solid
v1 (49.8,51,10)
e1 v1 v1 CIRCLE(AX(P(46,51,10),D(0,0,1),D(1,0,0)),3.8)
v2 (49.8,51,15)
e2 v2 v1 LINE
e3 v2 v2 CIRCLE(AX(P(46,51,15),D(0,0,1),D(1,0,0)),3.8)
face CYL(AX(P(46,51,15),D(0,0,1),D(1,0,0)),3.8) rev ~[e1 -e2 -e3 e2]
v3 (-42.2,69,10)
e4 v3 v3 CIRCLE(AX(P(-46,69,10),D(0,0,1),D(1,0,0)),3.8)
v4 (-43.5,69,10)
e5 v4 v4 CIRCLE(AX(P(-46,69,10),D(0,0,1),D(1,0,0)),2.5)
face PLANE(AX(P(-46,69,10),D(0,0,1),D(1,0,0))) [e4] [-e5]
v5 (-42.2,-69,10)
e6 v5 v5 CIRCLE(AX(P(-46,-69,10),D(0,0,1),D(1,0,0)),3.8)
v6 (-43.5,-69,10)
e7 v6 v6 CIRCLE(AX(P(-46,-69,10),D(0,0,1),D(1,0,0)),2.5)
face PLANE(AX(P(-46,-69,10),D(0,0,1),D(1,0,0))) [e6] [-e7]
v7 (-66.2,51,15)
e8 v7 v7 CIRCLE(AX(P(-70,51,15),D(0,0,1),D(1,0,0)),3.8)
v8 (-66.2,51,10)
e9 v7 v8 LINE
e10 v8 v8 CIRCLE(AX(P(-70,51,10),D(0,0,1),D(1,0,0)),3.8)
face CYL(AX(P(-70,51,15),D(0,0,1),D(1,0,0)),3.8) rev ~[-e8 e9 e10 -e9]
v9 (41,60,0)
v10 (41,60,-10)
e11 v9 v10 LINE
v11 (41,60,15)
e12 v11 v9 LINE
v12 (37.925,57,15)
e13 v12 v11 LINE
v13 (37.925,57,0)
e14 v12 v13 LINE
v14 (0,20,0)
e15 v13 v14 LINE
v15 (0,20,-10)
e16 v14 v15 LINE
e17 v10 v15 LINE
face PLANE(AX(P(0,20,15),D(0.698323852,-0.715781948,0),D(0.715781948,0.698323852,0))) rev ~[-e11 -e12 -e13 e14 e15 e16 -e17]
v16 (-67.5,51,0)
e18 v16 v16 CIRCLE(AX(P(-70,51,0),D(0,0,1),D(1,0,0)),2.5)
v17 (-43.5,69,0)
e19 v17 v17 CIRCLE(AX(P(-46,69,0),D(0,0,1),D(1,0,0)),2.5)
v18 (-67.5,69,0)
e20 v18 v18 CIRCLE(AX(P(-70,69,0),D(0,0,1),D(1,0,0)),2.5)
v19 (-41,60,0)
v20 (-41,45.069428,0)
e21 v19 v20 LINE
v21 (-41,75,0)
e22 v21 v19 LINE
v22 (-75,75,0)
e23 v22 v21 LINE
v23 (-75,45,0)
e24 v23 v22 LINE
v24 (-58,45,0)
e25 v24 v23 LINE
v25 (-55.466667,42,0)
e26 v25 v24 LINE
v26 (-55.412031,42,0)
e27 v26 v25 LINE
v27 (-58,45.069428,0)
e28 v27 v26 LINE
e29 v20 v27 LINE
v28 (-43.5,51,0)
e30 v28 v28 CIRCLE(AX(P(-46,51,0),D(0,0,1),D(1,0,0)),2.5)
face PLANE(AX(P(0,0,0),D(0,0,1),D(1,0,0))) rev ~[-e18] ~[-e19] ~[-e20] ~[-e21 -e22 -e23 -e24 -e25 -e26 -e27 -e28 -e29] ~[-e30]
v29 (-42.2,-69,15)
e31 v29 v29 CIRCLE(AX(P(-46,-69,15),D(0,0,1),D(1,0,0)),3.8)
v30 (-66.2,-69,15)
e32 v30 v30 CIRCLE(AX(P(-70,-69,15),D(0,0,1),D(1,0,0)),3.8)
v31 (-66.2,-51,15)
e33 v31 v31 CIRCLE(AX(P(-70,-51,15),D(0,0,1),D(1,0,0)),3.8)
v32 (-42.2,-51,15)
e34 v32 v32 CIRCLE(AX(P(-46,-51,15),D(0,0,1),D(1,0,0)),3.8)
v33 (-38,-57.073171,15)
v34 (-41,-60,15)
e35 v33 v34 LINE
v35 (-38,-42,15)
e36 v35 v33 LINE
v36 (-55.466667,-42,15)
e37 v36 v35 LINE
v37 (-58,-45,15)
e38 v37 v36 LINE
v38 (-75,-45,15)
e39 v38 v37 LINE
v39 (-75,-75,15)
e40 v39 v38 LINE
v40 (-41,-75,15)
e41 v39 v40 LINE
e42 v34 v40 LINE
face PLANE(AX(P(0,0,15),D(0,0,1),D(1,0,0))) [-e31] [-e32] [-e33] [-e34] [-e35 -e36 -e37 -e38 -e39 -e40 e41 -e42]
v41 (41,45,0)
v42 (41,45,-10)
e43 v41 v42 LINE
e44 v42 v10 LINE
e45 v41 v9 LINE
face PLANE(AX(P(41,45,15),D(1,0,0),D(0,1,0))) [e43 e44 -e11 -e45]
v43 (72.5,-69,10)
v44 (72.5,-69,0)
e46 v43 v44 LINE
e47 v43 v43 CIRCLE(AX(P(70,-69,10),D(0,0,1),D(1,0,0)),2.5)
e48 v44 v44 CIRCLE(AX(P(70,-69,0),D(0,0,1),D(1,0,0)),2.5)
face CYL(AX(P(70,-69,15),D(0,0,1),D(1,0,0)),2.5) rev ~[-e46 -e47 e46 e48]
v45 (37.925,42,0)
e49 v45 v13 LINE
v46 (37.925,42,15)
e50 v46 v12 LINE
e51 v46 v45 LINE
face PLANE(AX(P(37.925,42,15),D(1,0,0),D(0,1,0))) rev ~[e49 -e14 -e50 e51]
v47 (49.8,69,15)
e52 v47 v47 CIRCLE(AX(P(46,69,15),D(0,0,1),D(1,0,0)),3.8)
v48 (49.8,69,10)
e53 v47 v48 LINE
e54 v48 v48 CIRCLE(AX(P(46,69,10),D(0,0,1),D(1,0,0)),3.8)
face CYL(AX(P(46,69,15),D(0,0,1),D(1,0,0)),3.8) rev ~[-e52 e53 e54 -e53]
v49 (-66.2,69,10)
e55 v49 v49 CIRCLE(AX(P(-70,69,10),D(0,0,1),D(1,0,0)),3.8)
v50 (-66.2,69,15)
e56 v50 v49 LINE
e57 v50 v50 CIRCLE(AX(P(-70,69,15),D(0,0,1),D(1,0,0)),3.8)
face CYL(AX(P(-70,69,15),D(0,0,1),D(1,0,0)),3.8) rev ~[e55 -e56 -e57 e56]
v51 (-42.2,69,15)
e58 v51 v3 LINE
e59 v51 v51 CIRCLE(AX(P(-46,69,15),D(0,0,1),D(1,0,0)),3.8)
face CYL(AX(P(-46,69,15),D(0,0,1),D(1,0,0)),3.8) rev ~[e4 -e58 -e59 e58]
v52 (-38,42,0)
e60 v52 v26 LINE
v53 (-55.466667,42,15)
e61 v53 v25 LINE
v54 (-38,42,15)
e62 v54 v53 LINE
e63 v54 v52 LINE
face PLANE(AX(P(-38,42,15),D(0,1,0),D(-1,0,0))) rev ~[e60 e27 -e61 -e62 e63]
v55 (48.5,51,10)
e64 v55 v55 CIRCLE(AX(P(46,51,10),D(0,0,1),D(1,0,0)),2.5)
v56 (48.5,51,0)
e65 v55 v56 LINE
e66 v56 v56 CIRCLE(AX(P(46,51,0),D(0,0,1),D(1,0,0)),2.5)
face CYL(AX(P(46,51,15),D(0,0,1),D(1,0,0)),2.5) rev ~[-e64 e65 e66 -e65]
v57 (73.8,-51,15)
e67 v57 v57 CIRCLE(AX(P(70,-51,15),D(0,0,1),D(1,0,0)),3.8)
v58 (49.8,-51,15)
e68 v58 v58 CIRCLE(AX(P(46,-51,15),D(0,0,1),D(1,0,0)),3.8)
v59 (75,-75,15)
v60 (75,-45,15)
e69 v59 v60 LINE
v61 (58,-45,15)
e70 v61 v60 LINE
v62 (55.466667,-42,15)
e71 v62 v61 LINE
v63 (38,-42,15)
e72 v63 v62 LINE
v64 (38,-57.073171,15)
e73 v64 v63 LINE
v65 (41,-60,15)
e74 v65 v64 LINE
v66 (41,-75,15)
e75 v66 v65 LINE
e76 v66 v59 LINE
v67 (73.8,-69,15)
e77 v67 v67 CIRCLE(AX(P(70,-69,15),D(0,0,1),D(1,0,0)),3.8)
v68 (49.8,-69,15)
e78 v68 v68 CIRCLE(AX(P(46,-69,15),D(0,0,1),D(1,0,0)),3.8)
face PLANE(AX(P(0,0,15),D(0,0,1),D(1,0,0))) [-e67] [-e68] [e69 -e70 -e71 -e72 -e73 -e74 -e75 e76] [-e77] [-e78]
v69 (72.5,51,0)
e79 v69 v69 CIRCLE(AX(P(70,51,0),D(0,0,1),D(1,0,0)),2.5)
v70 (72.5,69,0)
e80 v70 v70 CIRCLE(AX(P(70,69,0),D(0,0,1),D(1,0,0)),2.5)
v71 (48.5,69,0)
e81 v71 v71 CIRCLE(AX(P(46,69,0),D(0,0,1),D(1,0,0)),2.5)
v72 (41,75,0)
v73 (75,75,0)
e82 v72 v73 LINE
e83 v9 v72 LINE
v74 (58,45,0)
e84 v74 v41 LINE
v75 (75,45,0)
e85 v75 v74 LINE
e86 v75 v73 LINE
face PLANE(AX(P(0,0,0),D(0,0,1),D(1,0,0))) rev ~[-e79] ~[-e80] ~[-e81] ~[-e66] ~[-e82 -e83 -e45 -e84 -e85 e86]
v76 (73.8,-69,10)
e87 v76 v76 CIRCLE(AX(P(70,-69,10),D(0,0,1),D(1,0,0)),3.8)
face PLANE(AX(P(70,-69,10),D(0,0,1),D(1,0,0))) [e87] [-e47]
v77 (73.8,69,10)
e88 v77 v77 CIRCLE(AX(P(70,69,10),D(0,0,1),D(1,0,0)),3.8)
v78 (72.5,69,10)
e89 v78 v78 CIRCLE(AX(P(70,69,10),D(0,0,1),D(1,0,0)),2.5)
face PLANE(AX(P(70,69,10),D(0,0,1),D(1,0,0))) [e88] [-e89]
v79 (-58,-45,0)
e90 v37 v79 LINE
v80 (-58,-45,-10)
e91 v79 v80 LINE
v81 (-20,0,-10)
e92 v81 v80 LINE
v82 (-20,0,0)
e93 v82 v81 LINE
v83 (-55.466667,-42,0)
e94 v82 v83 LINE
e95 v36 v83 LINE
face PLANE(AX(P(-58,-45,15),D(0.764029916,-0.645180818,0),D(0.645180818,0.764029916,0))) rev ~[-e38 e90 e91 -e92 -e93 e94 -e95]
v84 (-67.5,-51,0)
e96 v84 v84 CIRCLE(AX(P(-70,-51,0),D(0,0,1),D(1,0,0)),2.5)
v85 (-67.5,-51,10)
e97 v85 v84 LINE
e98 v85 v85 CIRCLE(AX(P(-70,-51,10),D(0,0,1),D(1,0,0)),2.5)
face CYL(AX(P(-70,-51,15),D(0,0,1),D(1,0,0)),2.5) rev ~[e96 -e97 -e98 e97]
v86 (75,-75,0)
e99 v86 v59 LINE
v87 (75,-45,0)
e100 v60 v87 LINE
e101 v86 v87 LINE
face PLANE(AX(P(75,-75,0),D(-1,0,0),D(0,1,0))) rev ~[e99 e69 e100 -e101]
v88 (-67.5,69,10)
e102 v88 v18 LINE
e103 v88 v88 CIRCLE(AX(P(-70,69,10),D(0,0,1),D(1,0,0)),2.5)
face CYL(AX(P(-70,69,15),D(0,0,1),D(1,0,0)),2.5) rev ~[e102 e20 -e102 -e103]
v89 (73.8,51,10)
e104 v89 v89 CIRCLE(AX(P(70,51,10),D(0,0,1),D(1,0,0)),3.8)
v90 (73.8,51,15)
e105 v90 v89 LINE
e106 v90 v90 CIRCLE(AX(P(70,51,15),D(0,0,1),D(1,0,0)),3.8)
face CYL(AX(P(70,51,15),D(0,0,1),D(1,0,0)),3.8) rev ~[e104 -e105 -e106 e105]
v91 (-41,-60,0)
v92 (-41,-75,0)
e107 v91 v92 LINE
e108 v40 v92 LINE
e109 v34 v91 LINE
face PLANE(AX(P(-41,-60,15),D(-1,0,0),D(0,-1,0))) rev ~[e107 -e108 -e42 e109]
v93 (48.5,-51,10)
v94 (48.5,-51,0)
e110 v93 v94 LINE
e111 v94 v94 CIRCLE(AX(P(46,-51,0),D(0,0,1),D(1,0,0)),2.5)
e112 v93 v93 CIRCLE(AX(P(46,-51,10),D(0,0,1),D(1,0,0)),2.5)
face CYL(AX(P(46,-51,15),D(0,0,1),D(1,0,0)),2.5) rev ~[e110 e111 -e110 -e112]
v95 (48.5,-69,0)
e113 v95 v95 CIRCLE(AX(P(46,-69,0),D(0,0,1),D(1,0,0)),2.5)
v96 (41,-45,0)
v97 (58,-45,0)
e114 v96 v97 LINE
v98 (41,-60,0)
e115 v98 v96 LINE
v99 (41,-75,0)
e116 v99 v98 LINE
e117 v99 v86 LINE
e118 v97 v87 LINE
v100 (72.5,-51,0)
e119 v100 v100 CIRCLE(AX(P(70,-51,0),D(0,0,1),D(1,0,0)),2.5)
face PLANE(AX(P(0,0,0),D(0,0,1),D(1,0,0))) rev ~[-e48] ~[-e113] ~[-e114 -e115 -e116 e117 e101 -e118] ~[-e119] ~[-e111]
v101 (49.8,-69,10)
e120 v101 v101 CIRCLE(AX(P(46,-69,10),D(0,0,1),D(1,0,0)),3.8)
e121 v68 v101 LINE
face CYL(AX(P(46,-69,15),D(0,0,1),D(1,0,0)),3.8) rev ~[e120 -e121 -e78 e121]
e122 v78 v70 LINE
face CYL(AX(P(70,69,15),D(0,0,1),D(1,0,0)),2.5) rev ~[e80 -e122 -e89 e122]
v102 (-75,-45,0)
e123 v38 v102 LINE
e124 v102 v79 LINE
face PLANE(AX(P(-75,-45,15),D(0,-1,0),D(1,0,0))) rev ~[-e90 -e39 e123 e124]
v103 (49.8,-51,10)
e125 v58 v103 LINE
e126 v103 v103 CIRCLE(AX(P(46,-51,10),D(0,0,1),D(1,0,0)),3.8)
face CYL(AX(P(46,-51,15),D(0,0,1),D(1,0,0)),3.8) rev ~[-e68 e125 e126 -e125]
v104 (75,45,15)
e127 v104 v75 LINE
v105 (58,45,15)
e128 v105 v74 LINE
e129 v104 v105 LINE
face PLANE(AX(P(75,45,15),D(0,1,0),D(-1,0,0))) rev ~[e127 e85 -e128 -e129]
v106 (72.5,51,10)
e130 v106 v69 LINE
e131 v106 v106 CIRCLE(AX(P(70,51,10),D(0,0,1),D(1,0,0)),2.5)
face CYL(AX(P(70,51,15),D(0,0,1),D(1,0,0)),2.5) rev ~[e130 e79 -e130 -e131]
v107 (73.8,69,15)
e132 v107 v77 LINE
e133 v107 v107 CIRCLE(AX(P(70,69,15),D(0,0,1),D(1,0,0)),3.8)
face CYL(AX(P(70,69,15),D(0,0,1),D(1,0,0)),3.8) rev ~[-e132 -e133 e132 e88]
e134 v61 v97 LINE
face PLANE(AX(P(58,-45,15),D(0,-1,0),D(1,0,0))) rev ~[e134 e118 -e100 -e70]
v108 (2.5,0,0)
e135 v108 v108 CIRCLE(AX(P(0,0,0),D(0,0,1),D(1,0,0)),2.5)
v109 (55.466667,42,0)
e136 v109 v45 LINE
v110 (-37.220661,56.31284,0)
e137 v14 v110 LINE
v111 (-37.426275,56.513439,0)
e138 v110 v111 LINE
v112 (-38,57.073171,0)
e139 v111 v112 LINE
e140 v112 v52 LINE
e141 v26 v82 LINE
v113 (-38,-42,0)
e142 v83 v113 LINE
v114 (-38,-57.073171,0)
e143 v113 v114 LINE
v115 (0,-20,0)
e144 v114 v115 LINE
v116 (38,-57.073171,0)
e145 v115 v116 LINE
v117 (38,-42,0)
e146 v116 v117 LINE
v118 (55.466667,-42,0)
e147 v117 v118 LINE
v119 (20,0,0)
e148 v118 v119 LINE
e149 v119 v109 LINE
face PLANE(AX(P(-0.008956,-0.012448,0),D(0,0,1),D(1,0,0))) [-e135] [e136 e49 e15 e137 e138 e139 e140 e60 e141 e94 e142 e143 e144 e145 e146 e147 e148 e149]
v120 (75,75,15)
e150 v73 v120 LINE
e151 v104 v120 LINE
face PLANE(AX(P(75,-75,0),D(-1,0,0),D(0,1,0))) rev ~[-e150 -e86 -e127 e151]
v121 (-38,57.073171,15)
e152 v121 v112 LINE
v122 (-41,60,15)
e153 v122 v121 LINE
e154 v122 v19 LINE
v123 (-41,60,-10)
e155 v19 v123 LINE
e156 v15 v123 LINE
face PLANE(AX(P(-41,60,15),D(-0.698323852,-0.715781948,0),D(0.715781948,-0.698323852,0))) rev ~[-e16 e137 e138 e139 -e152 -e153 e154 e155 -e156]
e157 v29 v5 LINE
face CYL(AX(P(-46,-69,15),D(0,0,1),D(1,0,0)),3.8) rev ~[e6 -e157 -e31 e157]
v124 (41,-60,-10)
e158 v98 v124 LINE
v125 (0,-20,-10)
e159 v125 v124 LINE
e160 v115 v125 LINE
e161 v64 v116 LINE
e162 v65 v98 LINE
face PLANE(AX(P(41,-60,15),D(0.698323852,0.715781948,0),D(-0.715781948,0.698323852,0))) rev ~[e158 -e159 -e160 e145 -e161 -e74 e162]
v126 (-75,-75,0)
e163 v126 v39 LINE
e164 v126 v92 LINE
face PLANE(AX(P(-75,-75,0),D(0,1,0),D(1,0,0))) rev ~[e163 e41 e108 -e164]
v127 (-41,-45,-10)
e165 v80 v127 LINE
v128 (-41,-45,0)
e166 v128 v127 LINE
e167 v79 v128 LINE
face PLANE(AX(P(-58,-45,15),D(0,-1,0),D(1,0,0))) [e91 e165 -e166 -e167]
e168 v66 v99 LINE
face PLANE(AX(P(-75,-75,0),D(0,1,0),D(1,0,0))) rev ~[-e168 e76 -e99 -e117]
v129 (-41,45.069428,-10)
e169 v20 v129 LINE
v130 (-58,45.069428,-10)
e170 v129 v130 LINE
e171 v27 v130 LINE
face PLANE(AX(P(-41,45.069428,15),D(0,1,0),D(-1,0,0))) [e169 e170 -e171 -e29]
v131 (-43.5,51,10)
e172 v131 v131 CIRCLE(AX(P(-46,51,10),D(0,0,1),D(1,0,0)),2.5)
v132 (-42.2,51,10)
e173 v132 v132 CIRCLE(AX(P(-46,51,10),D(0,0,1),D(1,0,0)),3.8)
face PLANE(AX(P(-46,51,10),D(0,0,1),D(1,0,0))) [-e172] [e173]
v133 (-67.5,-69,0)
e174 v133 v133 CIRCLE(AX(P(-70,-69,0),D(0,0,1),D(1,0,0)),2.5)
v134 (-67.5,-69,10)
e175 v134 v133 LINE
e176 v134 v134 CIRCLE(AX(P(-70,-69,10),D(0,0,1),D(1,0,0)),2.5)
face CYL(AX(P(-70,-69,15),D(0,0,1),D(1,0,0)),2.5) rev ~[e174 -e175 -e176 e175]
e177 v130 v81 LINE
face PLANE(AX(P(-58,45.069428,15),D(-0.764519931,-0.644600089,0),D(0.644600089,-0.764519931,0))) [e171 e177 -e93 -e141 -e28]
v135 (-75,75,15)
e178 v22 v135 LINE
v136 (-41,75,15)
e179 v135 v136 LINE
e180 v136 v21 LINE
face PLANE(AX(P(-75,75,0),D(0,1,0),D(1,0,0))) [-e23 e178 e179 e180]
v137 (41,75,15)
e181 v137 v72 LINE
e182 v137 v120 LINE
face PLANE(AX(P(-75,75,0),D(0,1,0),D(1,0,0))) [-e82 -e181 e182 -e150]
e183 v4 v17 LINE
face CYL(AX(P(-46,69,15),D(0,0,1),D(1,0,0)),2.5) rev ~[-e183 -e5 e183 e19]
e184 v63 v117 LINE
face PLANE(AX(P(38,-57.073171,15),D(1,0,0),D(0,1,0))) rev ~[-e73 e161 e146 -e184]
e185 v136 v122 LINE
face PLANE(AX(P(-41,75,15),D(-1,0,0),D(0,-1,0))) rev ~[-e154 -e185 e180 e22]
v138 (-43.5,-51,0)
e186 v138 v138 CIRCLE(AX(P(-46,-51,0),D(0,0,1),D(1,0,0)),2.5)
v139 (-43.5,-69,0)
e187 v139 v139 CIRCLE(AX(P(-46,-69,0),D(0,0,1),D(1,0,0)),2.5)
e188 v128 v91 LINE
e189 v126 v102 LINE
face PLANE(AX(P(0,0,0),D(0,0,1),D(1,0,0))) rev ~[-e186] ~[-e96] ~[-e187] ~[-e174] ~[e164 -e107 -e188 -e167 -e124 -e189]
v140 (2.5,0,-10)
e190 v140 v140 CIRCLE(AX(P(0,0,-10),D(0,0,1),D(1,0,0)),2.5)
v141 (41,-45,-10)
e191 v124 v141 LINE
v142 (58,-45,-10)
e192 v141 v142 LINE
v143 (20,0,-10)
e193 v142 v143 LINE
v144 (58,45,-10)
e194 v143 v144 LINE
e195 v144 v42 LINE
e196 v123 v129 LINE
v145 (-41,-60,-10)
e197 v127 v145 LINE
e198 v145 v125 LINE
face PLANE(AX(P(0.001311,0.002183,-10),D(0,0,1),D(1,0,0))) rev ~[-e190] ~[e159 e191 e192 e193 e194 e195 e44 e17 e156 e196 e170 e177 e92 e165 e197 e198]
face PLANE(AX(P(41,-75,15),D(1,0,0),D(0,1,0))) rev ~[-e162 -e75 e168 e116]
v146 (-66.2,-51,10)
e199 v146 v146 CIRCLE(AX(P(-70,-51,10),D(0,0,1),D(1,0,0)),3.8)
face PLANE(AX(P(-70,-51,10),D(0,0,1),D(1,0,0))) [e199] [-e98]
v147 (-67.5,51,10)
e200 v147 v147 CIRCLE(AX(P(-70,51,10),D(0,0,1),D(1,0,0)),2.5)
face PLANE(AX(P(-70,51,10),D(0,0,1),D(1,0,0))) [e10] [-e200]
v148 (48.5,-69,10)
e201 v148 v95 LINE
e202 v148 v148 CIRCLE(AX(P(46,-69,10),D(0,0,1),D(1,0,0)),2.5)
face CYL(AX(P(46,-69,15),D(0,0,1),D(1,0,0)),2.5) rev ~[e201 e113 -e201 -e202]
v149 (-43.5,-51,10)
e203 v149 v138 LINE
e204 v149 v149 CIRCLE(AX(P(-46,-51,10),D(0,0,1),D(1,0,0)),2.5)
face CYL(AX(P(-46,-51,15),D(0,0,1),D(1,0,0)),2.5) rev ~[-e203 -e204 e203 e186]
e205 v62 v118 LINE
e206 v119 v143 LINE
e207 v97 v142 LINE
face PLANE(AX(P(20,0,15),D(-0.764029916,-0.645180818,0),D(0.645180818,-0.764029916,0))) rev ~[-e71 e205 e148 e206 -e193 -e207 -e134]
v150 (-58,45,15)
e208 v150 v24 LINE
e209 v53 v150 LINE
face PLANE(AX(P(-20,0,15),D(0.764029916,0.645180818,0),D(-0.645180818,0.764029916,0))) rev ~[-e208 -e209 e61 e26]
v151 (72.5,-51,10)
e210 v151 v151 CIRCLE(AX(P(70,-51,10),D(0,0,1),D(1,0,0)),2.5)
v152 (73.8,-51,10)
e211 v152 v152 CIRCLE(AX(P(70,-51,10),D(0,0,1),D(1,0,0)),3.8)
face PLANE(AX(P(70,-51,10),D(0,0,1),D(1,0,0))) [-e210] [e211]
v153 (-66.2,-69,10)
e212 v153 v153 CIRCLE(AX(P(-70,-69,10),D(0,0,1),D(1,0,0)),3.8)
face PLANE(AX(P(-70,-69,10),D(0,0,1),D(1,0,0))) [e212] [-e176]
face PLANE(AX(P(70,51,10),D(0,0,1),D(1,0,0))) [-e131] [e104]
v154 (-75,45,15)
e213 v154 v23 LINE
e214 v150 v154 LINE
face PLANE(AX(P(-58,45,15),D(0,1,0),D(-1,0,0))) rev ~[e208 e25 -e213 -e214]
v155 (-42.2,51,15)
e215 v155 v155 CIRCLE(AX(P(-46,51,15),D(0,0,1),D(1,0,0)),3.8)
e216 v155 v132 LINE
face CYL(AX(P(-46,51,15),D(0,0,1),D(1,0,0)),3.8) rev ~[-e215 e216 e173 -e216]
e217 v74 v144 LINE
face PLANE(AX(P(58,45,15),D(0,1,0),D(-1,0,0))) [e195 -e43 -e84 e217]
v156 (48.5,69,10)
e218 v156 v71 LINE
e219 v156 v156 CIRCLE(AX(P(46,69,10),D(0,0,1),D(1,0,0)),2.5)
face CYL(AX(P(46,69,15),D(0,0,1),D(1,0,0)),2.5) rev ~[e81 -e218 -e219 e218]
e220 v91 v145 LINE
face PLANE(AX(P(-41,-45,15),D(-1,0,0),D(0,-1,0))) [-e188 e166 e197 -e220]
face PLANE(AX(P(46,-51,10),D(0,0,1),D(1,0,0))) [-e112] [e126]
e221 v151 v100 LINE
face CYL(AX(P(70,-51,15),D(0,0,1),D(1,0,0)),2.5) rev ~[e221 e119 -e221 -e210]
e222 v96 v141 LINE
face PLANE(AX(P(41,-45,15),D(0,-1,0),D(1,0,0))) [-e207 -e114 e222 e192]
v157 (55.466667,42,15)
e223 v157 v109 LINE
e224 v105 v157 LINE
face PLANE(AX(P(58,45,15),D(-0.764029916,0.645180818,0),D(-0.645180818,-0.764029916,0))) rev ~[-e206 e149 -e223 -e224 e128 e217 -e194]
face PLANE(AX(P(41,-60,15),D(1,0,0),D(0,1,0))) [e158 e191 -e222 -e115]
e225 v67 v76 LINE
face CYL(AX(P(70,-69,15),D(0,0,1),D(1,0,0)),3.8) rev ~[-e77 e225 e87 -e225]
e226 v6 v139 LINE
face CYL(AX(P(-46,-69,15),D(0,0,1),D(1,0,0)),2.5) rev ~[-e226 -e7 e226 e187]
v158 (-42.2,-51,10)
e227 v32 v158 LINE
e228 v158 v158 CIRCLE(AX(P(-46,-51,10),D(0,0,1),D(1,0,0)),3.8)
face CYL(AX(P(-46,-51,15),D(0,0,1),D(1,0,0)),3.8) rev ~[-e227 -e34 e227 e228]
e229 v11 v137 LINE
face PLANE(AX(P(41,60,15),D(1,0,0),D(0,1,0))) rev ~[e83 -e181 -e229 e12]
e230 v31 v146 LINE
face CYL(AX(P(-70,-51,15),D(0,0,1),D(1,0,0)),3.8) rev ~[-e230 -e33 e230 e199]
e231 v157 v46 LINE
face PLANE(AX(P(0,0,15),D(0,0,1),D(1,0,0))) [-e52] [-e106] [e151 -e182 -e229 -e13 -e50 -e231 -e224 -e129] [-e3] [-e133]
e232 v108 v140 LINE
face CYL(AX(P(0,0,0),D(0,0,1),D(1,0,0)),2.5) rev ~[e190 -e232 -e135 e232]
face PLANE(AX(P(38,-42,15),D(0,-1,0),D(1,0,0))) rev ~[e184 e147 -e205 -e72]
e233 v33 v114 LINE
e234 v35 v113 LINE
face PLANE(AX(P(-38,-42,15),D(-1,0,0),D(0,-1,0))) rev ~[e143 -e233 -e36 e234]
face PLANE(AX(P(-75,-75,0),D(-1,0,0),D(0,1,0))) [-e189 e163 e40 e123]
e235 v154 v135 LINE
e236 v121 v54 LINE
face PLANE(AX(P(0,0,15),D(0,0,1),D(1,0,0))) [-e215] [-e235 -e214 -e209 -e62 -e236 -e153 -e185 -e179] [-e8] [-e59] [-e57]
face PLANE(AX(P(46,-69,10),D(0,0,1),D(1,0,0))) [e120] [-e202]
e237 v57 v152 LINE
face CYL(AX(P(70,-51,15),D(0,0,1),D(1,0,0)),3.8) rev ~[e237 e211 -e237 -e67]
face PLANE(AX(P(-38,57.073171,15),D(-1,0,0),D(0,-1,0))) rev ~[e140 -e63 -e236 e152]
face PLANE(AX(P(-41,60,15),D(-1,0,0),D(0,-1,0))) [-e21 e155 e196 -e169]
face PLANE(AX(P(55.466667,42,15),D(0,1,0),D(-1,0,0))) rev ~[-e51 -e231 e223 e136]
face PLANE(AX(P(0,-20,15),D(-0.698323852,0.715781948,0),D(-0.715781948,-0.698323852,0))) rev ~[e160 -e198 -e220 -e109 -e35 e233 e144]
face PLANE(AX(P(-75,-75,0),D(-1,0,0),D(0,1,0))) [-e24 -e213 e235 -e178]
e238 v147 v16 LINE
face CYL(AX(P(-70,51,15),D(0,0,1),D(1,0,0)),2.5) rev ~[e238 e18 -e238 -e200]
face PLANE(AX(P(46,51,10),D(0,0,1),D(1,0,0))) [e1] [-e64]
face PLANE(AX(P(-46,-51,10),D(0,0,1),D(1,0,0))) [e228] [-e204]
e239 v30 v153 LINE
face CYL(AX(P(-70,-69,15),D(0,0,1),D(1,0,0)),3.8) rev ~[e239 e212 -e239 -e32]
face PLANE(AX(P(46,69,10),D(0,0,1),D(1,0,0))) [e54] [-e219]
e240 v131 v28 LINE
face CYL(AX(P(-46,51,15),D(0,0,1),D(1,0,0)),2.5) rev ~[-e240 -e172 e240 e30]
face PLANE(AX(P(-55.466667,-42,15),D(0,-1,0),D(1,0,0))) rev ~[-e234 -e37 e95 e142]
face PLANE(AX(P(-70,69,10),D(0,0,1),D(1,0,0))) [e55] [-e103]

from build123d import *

# Parameters (mm, degrees)
SKETCH1_W           = 150
SKETCH1_H           = 150
BOSS_EXTRUDE1_DEPTH = 15
CUT_EXTRUDE1_DEPTH  = 15
BOSS_EXTRUDE2_DEPTH = 25
CUT_EXTRUDE2_DEPTH  = 15
SKETCH5_R           = 2.5
CUT_EXTRUDE3_DEPTH  = 15
SKETCH7_R           = 2.5
CUT_EXTRUDE4_DEPTH  = 15
SKETCH8_R           = 3.8
CUT_EXTRUDE5_DEPTH  = 5
SKETCH10_R          = 2.5
CUT_EXTRUDE6_DEPTH  = 26
SKETCH11_R          = 3.8
CUT_EXTRUDE7_DEPTH  = 5
SKETCH12_R          = 2.5
CUT_EXTRUDE8_DEPTH  = 26
SKETCH13_R          = 3.8
CUT_EXTRUDE9_DEPTH  = 5
SKETCH14_R          = 2.5
CUT_EXTRUDE10_DEPTH = 26
SKETCH15_R          = 3.8
CUT_EXTRUDE11_DEPTH = 5


with BuildPart() as part:
    # Sketch1 → Boss-Extrude1 (new body)
    with BuildSketch(Plane.XY):
        Rectangle(SKETCH1_W, SKETCH1_H)
    extrude(amount=BOSS_EXTRUDE1_DEPTH)

    # Sketch2 → Cut-Extrude1 (cut)
    with BuildSketch(Plane.XY.offset(15)):
        Polygon((-41, 75), (-41, 60), (0, 20), (41, 60), (41, 75), align=None)
        Polygon((-20, 0), (-58, 45), (-75, 45), (-75, -45), (-58, -45), align=None)
        Polygon((58, 45), (20, 0), (58, -45), (75, -45), (75, 45), align=None)
        Polygon((41, -60), (0, -20), (-41, -60), (-41, -75), (41, -75), align=None)
    extrude(amount=-CUT_EXTRUDE1_DEPTH, mode=Mode.SUBTRACT)

    # Sketch3 → Boss-Extrude2 (add)
    with BuildSketch(Plane.XY.offset(15)):
        Polygon((-41, 45.069428085), (-58, 45.069428085), (-20, 0), (-58, -45), (-41, -45), (-41, -60), (0, -20), (41, -60), (41, -45), (58, -45), (20, 0), (58, 45), (41, 45), (41, 60), (0, 20), (-41, 60), align=None)
    extrude(amount=-BOSS_EXTRUDE2_DEPTH)

    # Sketch4 → Cut-Extrude2 (cut)
    with BuildSketch(Plane.XY.offset(15)):
        Polygon((-38, -42), (-38, -57.073170732), (0, -20), (38, -57.073170732), (38, -42), (55.466666667, -42), (20, 0), (55.466666667, 42), (37.925, 42), (37.925, 57), (0, 20), (-37.220661316, 56.312840308), (-37.426275475, 56.513439488), (-38, 57.073170732), (-38, 42), (-55.466666667, 42), (-20, 0), (-55.466666667, -42), align=None)
    extrude(amount=-CUT_EXTRUDE2_DEPTH, mode=Mode.SUBTRACT)

    # Sketch5 → Cut-Extrude3 (cut)
    with BuildSketch(Plane.XY):
        Circle(SKETCH5_R)
    extrude(amount=-CUT_EXTRUDE3_DEPTH, mode=Mode.SUBTRACT)

    # Sketch7 → Cut-Extrude4 (cut)
    with BuildSketch(Plane.XY.offset(15)):
        with Locations((70, -51)):
            Circle(SKETCH7_R)
        with Locations((46, -51)):
            Circle(SKETCH7_R)
        with Locations((46, -69)):
            Circle(SKETCH7_R)
        with Locations((70, -69)):
            Circle(SKETCH7_R)
    extrude(amount=-CUT_EXTRUDE4_DEPTH, mode=Mode.SUBTRACT)

    # Sketch8 → Cut-Extrude5 (cut)
    with BuildSketch(Plane.XY.offset(15)):
        with Locations((46, -51)):
            Circle(SKETCH8_R)
        with Locations((70, -51)):
            Circle(SKETCH8_R)
        with Locations((70, -69)):
            Circle(SKETCH8_R)
        with Locations((46, -69)):
            Circle(SKETCH8_R)
    extrude(amount=-CUT_EXTRUDE5_DEPTH, mode=Mode.SUBTRACT)

    # Sketch10 → Cut-Extrude6 (cut, through all)
    with BuildSketch(Plane.XY.offset(15)):
        with Locations((-46, -69)):
            Circle(SKETCH10_R)
        with Locations((-46, -51)):
            Circle(SKETCH10_R)
        with Locations((-70, -51)):
            Circle(SKETCH10_R)
        with Locations((-70, -69)):
            Circle(SKETCH10_R)
    extrude(amount=-CUT_EXTRUDE6_DEPTH, mode=Mode.SUBTRACT)

    # Sketch11 → Cut-Extrude7 (cut)
    with BuildSketch(Plane.XY.offset(15)):
        with Locations((-70, -51)):
            Circle(SKETCH11_R)
        with Locations((-46, -51)):
            Circle(SKETCH11_R)
        with Locations((-70, -69)):
            Circle(SKETCH11_R)
        with Locations((-46, -69)):
            Circle(SKETCH11_R)
    extrude(amount=-CUT_EXTRUDE7_DEPTH, mode=Mode.SUBTRACT)

    # Sketch12 → Cut-Extrude8 (cut, through all)
    with BuildSketch(Plane.XY.offset(15)):
        with Locations((46, 69)):
            Circle(SKETCH12_R)
        with Locations((70, 69)):
            Circle(SKETCH12_R)
        with Locations((70, 51)):
            Circle(SKETCH12_R)
        with Locations((46, 51)):
            Circle(SKETCH12_R)
    extrude(amount=-CUT_EXTRUDE8_DEPTH, mode=Mode.SUBTRACT)

    # Sketch13 → Cut-Extrude9 (cut)
    with BuildSketch(Plane.XY.offset(15)):
        with Locations((70, 69)):
            Circle(SKETCH13_R)
        with Locations((46, 69)):
            Circle(SKETCH13_R)
        with Locations((46, 51)):
            Circle(SKETCH13_R)
        with Locations((70, 51)):
            Circle(SKETCH13_R)
    extrude(amount=-CUT_EXTRUDE9_DEPTH, mode=Mode.SUBTRACT)

    # Sketch14 → Cut-Extrude10 (cut, through all)
    with BuildSketch(Plane.XY.offset(15)):
        with Locations((-70, 69)):
            Circle(SKETCH14_R)
        with Locations((-46, 69)):
            Circle(SKETCH14_R)
        with Locations((-46, 51)):
            Circle(SKETCH14_R)
        with Locations((-70, 51)):
            Circle(SKETCH14_R)
    extrude(amount=-CUT_EXTRUDE10_DEPTH, mode=Mode.SUBTRACT)

    # Sketch15 → Cut-Extrude11 (cut)
    with BuildSketch(Plane.XY.offset(15)):
        with Locations((-70, 69)):
            Circle(SKETCH15_R)
        with Locations((-46, 69)):
            Circle(SKETCH15_R)
        with Locations((-46, 51)):
            Circle(SKETCH15_R)
        with Locations((-70, 51)):
            Circle(SKETCH15_R)
    extrude(amount=-CUT_EXTRUDE11_DEPTH, mode=Mode.SUBTRACT)


solid = part.part
